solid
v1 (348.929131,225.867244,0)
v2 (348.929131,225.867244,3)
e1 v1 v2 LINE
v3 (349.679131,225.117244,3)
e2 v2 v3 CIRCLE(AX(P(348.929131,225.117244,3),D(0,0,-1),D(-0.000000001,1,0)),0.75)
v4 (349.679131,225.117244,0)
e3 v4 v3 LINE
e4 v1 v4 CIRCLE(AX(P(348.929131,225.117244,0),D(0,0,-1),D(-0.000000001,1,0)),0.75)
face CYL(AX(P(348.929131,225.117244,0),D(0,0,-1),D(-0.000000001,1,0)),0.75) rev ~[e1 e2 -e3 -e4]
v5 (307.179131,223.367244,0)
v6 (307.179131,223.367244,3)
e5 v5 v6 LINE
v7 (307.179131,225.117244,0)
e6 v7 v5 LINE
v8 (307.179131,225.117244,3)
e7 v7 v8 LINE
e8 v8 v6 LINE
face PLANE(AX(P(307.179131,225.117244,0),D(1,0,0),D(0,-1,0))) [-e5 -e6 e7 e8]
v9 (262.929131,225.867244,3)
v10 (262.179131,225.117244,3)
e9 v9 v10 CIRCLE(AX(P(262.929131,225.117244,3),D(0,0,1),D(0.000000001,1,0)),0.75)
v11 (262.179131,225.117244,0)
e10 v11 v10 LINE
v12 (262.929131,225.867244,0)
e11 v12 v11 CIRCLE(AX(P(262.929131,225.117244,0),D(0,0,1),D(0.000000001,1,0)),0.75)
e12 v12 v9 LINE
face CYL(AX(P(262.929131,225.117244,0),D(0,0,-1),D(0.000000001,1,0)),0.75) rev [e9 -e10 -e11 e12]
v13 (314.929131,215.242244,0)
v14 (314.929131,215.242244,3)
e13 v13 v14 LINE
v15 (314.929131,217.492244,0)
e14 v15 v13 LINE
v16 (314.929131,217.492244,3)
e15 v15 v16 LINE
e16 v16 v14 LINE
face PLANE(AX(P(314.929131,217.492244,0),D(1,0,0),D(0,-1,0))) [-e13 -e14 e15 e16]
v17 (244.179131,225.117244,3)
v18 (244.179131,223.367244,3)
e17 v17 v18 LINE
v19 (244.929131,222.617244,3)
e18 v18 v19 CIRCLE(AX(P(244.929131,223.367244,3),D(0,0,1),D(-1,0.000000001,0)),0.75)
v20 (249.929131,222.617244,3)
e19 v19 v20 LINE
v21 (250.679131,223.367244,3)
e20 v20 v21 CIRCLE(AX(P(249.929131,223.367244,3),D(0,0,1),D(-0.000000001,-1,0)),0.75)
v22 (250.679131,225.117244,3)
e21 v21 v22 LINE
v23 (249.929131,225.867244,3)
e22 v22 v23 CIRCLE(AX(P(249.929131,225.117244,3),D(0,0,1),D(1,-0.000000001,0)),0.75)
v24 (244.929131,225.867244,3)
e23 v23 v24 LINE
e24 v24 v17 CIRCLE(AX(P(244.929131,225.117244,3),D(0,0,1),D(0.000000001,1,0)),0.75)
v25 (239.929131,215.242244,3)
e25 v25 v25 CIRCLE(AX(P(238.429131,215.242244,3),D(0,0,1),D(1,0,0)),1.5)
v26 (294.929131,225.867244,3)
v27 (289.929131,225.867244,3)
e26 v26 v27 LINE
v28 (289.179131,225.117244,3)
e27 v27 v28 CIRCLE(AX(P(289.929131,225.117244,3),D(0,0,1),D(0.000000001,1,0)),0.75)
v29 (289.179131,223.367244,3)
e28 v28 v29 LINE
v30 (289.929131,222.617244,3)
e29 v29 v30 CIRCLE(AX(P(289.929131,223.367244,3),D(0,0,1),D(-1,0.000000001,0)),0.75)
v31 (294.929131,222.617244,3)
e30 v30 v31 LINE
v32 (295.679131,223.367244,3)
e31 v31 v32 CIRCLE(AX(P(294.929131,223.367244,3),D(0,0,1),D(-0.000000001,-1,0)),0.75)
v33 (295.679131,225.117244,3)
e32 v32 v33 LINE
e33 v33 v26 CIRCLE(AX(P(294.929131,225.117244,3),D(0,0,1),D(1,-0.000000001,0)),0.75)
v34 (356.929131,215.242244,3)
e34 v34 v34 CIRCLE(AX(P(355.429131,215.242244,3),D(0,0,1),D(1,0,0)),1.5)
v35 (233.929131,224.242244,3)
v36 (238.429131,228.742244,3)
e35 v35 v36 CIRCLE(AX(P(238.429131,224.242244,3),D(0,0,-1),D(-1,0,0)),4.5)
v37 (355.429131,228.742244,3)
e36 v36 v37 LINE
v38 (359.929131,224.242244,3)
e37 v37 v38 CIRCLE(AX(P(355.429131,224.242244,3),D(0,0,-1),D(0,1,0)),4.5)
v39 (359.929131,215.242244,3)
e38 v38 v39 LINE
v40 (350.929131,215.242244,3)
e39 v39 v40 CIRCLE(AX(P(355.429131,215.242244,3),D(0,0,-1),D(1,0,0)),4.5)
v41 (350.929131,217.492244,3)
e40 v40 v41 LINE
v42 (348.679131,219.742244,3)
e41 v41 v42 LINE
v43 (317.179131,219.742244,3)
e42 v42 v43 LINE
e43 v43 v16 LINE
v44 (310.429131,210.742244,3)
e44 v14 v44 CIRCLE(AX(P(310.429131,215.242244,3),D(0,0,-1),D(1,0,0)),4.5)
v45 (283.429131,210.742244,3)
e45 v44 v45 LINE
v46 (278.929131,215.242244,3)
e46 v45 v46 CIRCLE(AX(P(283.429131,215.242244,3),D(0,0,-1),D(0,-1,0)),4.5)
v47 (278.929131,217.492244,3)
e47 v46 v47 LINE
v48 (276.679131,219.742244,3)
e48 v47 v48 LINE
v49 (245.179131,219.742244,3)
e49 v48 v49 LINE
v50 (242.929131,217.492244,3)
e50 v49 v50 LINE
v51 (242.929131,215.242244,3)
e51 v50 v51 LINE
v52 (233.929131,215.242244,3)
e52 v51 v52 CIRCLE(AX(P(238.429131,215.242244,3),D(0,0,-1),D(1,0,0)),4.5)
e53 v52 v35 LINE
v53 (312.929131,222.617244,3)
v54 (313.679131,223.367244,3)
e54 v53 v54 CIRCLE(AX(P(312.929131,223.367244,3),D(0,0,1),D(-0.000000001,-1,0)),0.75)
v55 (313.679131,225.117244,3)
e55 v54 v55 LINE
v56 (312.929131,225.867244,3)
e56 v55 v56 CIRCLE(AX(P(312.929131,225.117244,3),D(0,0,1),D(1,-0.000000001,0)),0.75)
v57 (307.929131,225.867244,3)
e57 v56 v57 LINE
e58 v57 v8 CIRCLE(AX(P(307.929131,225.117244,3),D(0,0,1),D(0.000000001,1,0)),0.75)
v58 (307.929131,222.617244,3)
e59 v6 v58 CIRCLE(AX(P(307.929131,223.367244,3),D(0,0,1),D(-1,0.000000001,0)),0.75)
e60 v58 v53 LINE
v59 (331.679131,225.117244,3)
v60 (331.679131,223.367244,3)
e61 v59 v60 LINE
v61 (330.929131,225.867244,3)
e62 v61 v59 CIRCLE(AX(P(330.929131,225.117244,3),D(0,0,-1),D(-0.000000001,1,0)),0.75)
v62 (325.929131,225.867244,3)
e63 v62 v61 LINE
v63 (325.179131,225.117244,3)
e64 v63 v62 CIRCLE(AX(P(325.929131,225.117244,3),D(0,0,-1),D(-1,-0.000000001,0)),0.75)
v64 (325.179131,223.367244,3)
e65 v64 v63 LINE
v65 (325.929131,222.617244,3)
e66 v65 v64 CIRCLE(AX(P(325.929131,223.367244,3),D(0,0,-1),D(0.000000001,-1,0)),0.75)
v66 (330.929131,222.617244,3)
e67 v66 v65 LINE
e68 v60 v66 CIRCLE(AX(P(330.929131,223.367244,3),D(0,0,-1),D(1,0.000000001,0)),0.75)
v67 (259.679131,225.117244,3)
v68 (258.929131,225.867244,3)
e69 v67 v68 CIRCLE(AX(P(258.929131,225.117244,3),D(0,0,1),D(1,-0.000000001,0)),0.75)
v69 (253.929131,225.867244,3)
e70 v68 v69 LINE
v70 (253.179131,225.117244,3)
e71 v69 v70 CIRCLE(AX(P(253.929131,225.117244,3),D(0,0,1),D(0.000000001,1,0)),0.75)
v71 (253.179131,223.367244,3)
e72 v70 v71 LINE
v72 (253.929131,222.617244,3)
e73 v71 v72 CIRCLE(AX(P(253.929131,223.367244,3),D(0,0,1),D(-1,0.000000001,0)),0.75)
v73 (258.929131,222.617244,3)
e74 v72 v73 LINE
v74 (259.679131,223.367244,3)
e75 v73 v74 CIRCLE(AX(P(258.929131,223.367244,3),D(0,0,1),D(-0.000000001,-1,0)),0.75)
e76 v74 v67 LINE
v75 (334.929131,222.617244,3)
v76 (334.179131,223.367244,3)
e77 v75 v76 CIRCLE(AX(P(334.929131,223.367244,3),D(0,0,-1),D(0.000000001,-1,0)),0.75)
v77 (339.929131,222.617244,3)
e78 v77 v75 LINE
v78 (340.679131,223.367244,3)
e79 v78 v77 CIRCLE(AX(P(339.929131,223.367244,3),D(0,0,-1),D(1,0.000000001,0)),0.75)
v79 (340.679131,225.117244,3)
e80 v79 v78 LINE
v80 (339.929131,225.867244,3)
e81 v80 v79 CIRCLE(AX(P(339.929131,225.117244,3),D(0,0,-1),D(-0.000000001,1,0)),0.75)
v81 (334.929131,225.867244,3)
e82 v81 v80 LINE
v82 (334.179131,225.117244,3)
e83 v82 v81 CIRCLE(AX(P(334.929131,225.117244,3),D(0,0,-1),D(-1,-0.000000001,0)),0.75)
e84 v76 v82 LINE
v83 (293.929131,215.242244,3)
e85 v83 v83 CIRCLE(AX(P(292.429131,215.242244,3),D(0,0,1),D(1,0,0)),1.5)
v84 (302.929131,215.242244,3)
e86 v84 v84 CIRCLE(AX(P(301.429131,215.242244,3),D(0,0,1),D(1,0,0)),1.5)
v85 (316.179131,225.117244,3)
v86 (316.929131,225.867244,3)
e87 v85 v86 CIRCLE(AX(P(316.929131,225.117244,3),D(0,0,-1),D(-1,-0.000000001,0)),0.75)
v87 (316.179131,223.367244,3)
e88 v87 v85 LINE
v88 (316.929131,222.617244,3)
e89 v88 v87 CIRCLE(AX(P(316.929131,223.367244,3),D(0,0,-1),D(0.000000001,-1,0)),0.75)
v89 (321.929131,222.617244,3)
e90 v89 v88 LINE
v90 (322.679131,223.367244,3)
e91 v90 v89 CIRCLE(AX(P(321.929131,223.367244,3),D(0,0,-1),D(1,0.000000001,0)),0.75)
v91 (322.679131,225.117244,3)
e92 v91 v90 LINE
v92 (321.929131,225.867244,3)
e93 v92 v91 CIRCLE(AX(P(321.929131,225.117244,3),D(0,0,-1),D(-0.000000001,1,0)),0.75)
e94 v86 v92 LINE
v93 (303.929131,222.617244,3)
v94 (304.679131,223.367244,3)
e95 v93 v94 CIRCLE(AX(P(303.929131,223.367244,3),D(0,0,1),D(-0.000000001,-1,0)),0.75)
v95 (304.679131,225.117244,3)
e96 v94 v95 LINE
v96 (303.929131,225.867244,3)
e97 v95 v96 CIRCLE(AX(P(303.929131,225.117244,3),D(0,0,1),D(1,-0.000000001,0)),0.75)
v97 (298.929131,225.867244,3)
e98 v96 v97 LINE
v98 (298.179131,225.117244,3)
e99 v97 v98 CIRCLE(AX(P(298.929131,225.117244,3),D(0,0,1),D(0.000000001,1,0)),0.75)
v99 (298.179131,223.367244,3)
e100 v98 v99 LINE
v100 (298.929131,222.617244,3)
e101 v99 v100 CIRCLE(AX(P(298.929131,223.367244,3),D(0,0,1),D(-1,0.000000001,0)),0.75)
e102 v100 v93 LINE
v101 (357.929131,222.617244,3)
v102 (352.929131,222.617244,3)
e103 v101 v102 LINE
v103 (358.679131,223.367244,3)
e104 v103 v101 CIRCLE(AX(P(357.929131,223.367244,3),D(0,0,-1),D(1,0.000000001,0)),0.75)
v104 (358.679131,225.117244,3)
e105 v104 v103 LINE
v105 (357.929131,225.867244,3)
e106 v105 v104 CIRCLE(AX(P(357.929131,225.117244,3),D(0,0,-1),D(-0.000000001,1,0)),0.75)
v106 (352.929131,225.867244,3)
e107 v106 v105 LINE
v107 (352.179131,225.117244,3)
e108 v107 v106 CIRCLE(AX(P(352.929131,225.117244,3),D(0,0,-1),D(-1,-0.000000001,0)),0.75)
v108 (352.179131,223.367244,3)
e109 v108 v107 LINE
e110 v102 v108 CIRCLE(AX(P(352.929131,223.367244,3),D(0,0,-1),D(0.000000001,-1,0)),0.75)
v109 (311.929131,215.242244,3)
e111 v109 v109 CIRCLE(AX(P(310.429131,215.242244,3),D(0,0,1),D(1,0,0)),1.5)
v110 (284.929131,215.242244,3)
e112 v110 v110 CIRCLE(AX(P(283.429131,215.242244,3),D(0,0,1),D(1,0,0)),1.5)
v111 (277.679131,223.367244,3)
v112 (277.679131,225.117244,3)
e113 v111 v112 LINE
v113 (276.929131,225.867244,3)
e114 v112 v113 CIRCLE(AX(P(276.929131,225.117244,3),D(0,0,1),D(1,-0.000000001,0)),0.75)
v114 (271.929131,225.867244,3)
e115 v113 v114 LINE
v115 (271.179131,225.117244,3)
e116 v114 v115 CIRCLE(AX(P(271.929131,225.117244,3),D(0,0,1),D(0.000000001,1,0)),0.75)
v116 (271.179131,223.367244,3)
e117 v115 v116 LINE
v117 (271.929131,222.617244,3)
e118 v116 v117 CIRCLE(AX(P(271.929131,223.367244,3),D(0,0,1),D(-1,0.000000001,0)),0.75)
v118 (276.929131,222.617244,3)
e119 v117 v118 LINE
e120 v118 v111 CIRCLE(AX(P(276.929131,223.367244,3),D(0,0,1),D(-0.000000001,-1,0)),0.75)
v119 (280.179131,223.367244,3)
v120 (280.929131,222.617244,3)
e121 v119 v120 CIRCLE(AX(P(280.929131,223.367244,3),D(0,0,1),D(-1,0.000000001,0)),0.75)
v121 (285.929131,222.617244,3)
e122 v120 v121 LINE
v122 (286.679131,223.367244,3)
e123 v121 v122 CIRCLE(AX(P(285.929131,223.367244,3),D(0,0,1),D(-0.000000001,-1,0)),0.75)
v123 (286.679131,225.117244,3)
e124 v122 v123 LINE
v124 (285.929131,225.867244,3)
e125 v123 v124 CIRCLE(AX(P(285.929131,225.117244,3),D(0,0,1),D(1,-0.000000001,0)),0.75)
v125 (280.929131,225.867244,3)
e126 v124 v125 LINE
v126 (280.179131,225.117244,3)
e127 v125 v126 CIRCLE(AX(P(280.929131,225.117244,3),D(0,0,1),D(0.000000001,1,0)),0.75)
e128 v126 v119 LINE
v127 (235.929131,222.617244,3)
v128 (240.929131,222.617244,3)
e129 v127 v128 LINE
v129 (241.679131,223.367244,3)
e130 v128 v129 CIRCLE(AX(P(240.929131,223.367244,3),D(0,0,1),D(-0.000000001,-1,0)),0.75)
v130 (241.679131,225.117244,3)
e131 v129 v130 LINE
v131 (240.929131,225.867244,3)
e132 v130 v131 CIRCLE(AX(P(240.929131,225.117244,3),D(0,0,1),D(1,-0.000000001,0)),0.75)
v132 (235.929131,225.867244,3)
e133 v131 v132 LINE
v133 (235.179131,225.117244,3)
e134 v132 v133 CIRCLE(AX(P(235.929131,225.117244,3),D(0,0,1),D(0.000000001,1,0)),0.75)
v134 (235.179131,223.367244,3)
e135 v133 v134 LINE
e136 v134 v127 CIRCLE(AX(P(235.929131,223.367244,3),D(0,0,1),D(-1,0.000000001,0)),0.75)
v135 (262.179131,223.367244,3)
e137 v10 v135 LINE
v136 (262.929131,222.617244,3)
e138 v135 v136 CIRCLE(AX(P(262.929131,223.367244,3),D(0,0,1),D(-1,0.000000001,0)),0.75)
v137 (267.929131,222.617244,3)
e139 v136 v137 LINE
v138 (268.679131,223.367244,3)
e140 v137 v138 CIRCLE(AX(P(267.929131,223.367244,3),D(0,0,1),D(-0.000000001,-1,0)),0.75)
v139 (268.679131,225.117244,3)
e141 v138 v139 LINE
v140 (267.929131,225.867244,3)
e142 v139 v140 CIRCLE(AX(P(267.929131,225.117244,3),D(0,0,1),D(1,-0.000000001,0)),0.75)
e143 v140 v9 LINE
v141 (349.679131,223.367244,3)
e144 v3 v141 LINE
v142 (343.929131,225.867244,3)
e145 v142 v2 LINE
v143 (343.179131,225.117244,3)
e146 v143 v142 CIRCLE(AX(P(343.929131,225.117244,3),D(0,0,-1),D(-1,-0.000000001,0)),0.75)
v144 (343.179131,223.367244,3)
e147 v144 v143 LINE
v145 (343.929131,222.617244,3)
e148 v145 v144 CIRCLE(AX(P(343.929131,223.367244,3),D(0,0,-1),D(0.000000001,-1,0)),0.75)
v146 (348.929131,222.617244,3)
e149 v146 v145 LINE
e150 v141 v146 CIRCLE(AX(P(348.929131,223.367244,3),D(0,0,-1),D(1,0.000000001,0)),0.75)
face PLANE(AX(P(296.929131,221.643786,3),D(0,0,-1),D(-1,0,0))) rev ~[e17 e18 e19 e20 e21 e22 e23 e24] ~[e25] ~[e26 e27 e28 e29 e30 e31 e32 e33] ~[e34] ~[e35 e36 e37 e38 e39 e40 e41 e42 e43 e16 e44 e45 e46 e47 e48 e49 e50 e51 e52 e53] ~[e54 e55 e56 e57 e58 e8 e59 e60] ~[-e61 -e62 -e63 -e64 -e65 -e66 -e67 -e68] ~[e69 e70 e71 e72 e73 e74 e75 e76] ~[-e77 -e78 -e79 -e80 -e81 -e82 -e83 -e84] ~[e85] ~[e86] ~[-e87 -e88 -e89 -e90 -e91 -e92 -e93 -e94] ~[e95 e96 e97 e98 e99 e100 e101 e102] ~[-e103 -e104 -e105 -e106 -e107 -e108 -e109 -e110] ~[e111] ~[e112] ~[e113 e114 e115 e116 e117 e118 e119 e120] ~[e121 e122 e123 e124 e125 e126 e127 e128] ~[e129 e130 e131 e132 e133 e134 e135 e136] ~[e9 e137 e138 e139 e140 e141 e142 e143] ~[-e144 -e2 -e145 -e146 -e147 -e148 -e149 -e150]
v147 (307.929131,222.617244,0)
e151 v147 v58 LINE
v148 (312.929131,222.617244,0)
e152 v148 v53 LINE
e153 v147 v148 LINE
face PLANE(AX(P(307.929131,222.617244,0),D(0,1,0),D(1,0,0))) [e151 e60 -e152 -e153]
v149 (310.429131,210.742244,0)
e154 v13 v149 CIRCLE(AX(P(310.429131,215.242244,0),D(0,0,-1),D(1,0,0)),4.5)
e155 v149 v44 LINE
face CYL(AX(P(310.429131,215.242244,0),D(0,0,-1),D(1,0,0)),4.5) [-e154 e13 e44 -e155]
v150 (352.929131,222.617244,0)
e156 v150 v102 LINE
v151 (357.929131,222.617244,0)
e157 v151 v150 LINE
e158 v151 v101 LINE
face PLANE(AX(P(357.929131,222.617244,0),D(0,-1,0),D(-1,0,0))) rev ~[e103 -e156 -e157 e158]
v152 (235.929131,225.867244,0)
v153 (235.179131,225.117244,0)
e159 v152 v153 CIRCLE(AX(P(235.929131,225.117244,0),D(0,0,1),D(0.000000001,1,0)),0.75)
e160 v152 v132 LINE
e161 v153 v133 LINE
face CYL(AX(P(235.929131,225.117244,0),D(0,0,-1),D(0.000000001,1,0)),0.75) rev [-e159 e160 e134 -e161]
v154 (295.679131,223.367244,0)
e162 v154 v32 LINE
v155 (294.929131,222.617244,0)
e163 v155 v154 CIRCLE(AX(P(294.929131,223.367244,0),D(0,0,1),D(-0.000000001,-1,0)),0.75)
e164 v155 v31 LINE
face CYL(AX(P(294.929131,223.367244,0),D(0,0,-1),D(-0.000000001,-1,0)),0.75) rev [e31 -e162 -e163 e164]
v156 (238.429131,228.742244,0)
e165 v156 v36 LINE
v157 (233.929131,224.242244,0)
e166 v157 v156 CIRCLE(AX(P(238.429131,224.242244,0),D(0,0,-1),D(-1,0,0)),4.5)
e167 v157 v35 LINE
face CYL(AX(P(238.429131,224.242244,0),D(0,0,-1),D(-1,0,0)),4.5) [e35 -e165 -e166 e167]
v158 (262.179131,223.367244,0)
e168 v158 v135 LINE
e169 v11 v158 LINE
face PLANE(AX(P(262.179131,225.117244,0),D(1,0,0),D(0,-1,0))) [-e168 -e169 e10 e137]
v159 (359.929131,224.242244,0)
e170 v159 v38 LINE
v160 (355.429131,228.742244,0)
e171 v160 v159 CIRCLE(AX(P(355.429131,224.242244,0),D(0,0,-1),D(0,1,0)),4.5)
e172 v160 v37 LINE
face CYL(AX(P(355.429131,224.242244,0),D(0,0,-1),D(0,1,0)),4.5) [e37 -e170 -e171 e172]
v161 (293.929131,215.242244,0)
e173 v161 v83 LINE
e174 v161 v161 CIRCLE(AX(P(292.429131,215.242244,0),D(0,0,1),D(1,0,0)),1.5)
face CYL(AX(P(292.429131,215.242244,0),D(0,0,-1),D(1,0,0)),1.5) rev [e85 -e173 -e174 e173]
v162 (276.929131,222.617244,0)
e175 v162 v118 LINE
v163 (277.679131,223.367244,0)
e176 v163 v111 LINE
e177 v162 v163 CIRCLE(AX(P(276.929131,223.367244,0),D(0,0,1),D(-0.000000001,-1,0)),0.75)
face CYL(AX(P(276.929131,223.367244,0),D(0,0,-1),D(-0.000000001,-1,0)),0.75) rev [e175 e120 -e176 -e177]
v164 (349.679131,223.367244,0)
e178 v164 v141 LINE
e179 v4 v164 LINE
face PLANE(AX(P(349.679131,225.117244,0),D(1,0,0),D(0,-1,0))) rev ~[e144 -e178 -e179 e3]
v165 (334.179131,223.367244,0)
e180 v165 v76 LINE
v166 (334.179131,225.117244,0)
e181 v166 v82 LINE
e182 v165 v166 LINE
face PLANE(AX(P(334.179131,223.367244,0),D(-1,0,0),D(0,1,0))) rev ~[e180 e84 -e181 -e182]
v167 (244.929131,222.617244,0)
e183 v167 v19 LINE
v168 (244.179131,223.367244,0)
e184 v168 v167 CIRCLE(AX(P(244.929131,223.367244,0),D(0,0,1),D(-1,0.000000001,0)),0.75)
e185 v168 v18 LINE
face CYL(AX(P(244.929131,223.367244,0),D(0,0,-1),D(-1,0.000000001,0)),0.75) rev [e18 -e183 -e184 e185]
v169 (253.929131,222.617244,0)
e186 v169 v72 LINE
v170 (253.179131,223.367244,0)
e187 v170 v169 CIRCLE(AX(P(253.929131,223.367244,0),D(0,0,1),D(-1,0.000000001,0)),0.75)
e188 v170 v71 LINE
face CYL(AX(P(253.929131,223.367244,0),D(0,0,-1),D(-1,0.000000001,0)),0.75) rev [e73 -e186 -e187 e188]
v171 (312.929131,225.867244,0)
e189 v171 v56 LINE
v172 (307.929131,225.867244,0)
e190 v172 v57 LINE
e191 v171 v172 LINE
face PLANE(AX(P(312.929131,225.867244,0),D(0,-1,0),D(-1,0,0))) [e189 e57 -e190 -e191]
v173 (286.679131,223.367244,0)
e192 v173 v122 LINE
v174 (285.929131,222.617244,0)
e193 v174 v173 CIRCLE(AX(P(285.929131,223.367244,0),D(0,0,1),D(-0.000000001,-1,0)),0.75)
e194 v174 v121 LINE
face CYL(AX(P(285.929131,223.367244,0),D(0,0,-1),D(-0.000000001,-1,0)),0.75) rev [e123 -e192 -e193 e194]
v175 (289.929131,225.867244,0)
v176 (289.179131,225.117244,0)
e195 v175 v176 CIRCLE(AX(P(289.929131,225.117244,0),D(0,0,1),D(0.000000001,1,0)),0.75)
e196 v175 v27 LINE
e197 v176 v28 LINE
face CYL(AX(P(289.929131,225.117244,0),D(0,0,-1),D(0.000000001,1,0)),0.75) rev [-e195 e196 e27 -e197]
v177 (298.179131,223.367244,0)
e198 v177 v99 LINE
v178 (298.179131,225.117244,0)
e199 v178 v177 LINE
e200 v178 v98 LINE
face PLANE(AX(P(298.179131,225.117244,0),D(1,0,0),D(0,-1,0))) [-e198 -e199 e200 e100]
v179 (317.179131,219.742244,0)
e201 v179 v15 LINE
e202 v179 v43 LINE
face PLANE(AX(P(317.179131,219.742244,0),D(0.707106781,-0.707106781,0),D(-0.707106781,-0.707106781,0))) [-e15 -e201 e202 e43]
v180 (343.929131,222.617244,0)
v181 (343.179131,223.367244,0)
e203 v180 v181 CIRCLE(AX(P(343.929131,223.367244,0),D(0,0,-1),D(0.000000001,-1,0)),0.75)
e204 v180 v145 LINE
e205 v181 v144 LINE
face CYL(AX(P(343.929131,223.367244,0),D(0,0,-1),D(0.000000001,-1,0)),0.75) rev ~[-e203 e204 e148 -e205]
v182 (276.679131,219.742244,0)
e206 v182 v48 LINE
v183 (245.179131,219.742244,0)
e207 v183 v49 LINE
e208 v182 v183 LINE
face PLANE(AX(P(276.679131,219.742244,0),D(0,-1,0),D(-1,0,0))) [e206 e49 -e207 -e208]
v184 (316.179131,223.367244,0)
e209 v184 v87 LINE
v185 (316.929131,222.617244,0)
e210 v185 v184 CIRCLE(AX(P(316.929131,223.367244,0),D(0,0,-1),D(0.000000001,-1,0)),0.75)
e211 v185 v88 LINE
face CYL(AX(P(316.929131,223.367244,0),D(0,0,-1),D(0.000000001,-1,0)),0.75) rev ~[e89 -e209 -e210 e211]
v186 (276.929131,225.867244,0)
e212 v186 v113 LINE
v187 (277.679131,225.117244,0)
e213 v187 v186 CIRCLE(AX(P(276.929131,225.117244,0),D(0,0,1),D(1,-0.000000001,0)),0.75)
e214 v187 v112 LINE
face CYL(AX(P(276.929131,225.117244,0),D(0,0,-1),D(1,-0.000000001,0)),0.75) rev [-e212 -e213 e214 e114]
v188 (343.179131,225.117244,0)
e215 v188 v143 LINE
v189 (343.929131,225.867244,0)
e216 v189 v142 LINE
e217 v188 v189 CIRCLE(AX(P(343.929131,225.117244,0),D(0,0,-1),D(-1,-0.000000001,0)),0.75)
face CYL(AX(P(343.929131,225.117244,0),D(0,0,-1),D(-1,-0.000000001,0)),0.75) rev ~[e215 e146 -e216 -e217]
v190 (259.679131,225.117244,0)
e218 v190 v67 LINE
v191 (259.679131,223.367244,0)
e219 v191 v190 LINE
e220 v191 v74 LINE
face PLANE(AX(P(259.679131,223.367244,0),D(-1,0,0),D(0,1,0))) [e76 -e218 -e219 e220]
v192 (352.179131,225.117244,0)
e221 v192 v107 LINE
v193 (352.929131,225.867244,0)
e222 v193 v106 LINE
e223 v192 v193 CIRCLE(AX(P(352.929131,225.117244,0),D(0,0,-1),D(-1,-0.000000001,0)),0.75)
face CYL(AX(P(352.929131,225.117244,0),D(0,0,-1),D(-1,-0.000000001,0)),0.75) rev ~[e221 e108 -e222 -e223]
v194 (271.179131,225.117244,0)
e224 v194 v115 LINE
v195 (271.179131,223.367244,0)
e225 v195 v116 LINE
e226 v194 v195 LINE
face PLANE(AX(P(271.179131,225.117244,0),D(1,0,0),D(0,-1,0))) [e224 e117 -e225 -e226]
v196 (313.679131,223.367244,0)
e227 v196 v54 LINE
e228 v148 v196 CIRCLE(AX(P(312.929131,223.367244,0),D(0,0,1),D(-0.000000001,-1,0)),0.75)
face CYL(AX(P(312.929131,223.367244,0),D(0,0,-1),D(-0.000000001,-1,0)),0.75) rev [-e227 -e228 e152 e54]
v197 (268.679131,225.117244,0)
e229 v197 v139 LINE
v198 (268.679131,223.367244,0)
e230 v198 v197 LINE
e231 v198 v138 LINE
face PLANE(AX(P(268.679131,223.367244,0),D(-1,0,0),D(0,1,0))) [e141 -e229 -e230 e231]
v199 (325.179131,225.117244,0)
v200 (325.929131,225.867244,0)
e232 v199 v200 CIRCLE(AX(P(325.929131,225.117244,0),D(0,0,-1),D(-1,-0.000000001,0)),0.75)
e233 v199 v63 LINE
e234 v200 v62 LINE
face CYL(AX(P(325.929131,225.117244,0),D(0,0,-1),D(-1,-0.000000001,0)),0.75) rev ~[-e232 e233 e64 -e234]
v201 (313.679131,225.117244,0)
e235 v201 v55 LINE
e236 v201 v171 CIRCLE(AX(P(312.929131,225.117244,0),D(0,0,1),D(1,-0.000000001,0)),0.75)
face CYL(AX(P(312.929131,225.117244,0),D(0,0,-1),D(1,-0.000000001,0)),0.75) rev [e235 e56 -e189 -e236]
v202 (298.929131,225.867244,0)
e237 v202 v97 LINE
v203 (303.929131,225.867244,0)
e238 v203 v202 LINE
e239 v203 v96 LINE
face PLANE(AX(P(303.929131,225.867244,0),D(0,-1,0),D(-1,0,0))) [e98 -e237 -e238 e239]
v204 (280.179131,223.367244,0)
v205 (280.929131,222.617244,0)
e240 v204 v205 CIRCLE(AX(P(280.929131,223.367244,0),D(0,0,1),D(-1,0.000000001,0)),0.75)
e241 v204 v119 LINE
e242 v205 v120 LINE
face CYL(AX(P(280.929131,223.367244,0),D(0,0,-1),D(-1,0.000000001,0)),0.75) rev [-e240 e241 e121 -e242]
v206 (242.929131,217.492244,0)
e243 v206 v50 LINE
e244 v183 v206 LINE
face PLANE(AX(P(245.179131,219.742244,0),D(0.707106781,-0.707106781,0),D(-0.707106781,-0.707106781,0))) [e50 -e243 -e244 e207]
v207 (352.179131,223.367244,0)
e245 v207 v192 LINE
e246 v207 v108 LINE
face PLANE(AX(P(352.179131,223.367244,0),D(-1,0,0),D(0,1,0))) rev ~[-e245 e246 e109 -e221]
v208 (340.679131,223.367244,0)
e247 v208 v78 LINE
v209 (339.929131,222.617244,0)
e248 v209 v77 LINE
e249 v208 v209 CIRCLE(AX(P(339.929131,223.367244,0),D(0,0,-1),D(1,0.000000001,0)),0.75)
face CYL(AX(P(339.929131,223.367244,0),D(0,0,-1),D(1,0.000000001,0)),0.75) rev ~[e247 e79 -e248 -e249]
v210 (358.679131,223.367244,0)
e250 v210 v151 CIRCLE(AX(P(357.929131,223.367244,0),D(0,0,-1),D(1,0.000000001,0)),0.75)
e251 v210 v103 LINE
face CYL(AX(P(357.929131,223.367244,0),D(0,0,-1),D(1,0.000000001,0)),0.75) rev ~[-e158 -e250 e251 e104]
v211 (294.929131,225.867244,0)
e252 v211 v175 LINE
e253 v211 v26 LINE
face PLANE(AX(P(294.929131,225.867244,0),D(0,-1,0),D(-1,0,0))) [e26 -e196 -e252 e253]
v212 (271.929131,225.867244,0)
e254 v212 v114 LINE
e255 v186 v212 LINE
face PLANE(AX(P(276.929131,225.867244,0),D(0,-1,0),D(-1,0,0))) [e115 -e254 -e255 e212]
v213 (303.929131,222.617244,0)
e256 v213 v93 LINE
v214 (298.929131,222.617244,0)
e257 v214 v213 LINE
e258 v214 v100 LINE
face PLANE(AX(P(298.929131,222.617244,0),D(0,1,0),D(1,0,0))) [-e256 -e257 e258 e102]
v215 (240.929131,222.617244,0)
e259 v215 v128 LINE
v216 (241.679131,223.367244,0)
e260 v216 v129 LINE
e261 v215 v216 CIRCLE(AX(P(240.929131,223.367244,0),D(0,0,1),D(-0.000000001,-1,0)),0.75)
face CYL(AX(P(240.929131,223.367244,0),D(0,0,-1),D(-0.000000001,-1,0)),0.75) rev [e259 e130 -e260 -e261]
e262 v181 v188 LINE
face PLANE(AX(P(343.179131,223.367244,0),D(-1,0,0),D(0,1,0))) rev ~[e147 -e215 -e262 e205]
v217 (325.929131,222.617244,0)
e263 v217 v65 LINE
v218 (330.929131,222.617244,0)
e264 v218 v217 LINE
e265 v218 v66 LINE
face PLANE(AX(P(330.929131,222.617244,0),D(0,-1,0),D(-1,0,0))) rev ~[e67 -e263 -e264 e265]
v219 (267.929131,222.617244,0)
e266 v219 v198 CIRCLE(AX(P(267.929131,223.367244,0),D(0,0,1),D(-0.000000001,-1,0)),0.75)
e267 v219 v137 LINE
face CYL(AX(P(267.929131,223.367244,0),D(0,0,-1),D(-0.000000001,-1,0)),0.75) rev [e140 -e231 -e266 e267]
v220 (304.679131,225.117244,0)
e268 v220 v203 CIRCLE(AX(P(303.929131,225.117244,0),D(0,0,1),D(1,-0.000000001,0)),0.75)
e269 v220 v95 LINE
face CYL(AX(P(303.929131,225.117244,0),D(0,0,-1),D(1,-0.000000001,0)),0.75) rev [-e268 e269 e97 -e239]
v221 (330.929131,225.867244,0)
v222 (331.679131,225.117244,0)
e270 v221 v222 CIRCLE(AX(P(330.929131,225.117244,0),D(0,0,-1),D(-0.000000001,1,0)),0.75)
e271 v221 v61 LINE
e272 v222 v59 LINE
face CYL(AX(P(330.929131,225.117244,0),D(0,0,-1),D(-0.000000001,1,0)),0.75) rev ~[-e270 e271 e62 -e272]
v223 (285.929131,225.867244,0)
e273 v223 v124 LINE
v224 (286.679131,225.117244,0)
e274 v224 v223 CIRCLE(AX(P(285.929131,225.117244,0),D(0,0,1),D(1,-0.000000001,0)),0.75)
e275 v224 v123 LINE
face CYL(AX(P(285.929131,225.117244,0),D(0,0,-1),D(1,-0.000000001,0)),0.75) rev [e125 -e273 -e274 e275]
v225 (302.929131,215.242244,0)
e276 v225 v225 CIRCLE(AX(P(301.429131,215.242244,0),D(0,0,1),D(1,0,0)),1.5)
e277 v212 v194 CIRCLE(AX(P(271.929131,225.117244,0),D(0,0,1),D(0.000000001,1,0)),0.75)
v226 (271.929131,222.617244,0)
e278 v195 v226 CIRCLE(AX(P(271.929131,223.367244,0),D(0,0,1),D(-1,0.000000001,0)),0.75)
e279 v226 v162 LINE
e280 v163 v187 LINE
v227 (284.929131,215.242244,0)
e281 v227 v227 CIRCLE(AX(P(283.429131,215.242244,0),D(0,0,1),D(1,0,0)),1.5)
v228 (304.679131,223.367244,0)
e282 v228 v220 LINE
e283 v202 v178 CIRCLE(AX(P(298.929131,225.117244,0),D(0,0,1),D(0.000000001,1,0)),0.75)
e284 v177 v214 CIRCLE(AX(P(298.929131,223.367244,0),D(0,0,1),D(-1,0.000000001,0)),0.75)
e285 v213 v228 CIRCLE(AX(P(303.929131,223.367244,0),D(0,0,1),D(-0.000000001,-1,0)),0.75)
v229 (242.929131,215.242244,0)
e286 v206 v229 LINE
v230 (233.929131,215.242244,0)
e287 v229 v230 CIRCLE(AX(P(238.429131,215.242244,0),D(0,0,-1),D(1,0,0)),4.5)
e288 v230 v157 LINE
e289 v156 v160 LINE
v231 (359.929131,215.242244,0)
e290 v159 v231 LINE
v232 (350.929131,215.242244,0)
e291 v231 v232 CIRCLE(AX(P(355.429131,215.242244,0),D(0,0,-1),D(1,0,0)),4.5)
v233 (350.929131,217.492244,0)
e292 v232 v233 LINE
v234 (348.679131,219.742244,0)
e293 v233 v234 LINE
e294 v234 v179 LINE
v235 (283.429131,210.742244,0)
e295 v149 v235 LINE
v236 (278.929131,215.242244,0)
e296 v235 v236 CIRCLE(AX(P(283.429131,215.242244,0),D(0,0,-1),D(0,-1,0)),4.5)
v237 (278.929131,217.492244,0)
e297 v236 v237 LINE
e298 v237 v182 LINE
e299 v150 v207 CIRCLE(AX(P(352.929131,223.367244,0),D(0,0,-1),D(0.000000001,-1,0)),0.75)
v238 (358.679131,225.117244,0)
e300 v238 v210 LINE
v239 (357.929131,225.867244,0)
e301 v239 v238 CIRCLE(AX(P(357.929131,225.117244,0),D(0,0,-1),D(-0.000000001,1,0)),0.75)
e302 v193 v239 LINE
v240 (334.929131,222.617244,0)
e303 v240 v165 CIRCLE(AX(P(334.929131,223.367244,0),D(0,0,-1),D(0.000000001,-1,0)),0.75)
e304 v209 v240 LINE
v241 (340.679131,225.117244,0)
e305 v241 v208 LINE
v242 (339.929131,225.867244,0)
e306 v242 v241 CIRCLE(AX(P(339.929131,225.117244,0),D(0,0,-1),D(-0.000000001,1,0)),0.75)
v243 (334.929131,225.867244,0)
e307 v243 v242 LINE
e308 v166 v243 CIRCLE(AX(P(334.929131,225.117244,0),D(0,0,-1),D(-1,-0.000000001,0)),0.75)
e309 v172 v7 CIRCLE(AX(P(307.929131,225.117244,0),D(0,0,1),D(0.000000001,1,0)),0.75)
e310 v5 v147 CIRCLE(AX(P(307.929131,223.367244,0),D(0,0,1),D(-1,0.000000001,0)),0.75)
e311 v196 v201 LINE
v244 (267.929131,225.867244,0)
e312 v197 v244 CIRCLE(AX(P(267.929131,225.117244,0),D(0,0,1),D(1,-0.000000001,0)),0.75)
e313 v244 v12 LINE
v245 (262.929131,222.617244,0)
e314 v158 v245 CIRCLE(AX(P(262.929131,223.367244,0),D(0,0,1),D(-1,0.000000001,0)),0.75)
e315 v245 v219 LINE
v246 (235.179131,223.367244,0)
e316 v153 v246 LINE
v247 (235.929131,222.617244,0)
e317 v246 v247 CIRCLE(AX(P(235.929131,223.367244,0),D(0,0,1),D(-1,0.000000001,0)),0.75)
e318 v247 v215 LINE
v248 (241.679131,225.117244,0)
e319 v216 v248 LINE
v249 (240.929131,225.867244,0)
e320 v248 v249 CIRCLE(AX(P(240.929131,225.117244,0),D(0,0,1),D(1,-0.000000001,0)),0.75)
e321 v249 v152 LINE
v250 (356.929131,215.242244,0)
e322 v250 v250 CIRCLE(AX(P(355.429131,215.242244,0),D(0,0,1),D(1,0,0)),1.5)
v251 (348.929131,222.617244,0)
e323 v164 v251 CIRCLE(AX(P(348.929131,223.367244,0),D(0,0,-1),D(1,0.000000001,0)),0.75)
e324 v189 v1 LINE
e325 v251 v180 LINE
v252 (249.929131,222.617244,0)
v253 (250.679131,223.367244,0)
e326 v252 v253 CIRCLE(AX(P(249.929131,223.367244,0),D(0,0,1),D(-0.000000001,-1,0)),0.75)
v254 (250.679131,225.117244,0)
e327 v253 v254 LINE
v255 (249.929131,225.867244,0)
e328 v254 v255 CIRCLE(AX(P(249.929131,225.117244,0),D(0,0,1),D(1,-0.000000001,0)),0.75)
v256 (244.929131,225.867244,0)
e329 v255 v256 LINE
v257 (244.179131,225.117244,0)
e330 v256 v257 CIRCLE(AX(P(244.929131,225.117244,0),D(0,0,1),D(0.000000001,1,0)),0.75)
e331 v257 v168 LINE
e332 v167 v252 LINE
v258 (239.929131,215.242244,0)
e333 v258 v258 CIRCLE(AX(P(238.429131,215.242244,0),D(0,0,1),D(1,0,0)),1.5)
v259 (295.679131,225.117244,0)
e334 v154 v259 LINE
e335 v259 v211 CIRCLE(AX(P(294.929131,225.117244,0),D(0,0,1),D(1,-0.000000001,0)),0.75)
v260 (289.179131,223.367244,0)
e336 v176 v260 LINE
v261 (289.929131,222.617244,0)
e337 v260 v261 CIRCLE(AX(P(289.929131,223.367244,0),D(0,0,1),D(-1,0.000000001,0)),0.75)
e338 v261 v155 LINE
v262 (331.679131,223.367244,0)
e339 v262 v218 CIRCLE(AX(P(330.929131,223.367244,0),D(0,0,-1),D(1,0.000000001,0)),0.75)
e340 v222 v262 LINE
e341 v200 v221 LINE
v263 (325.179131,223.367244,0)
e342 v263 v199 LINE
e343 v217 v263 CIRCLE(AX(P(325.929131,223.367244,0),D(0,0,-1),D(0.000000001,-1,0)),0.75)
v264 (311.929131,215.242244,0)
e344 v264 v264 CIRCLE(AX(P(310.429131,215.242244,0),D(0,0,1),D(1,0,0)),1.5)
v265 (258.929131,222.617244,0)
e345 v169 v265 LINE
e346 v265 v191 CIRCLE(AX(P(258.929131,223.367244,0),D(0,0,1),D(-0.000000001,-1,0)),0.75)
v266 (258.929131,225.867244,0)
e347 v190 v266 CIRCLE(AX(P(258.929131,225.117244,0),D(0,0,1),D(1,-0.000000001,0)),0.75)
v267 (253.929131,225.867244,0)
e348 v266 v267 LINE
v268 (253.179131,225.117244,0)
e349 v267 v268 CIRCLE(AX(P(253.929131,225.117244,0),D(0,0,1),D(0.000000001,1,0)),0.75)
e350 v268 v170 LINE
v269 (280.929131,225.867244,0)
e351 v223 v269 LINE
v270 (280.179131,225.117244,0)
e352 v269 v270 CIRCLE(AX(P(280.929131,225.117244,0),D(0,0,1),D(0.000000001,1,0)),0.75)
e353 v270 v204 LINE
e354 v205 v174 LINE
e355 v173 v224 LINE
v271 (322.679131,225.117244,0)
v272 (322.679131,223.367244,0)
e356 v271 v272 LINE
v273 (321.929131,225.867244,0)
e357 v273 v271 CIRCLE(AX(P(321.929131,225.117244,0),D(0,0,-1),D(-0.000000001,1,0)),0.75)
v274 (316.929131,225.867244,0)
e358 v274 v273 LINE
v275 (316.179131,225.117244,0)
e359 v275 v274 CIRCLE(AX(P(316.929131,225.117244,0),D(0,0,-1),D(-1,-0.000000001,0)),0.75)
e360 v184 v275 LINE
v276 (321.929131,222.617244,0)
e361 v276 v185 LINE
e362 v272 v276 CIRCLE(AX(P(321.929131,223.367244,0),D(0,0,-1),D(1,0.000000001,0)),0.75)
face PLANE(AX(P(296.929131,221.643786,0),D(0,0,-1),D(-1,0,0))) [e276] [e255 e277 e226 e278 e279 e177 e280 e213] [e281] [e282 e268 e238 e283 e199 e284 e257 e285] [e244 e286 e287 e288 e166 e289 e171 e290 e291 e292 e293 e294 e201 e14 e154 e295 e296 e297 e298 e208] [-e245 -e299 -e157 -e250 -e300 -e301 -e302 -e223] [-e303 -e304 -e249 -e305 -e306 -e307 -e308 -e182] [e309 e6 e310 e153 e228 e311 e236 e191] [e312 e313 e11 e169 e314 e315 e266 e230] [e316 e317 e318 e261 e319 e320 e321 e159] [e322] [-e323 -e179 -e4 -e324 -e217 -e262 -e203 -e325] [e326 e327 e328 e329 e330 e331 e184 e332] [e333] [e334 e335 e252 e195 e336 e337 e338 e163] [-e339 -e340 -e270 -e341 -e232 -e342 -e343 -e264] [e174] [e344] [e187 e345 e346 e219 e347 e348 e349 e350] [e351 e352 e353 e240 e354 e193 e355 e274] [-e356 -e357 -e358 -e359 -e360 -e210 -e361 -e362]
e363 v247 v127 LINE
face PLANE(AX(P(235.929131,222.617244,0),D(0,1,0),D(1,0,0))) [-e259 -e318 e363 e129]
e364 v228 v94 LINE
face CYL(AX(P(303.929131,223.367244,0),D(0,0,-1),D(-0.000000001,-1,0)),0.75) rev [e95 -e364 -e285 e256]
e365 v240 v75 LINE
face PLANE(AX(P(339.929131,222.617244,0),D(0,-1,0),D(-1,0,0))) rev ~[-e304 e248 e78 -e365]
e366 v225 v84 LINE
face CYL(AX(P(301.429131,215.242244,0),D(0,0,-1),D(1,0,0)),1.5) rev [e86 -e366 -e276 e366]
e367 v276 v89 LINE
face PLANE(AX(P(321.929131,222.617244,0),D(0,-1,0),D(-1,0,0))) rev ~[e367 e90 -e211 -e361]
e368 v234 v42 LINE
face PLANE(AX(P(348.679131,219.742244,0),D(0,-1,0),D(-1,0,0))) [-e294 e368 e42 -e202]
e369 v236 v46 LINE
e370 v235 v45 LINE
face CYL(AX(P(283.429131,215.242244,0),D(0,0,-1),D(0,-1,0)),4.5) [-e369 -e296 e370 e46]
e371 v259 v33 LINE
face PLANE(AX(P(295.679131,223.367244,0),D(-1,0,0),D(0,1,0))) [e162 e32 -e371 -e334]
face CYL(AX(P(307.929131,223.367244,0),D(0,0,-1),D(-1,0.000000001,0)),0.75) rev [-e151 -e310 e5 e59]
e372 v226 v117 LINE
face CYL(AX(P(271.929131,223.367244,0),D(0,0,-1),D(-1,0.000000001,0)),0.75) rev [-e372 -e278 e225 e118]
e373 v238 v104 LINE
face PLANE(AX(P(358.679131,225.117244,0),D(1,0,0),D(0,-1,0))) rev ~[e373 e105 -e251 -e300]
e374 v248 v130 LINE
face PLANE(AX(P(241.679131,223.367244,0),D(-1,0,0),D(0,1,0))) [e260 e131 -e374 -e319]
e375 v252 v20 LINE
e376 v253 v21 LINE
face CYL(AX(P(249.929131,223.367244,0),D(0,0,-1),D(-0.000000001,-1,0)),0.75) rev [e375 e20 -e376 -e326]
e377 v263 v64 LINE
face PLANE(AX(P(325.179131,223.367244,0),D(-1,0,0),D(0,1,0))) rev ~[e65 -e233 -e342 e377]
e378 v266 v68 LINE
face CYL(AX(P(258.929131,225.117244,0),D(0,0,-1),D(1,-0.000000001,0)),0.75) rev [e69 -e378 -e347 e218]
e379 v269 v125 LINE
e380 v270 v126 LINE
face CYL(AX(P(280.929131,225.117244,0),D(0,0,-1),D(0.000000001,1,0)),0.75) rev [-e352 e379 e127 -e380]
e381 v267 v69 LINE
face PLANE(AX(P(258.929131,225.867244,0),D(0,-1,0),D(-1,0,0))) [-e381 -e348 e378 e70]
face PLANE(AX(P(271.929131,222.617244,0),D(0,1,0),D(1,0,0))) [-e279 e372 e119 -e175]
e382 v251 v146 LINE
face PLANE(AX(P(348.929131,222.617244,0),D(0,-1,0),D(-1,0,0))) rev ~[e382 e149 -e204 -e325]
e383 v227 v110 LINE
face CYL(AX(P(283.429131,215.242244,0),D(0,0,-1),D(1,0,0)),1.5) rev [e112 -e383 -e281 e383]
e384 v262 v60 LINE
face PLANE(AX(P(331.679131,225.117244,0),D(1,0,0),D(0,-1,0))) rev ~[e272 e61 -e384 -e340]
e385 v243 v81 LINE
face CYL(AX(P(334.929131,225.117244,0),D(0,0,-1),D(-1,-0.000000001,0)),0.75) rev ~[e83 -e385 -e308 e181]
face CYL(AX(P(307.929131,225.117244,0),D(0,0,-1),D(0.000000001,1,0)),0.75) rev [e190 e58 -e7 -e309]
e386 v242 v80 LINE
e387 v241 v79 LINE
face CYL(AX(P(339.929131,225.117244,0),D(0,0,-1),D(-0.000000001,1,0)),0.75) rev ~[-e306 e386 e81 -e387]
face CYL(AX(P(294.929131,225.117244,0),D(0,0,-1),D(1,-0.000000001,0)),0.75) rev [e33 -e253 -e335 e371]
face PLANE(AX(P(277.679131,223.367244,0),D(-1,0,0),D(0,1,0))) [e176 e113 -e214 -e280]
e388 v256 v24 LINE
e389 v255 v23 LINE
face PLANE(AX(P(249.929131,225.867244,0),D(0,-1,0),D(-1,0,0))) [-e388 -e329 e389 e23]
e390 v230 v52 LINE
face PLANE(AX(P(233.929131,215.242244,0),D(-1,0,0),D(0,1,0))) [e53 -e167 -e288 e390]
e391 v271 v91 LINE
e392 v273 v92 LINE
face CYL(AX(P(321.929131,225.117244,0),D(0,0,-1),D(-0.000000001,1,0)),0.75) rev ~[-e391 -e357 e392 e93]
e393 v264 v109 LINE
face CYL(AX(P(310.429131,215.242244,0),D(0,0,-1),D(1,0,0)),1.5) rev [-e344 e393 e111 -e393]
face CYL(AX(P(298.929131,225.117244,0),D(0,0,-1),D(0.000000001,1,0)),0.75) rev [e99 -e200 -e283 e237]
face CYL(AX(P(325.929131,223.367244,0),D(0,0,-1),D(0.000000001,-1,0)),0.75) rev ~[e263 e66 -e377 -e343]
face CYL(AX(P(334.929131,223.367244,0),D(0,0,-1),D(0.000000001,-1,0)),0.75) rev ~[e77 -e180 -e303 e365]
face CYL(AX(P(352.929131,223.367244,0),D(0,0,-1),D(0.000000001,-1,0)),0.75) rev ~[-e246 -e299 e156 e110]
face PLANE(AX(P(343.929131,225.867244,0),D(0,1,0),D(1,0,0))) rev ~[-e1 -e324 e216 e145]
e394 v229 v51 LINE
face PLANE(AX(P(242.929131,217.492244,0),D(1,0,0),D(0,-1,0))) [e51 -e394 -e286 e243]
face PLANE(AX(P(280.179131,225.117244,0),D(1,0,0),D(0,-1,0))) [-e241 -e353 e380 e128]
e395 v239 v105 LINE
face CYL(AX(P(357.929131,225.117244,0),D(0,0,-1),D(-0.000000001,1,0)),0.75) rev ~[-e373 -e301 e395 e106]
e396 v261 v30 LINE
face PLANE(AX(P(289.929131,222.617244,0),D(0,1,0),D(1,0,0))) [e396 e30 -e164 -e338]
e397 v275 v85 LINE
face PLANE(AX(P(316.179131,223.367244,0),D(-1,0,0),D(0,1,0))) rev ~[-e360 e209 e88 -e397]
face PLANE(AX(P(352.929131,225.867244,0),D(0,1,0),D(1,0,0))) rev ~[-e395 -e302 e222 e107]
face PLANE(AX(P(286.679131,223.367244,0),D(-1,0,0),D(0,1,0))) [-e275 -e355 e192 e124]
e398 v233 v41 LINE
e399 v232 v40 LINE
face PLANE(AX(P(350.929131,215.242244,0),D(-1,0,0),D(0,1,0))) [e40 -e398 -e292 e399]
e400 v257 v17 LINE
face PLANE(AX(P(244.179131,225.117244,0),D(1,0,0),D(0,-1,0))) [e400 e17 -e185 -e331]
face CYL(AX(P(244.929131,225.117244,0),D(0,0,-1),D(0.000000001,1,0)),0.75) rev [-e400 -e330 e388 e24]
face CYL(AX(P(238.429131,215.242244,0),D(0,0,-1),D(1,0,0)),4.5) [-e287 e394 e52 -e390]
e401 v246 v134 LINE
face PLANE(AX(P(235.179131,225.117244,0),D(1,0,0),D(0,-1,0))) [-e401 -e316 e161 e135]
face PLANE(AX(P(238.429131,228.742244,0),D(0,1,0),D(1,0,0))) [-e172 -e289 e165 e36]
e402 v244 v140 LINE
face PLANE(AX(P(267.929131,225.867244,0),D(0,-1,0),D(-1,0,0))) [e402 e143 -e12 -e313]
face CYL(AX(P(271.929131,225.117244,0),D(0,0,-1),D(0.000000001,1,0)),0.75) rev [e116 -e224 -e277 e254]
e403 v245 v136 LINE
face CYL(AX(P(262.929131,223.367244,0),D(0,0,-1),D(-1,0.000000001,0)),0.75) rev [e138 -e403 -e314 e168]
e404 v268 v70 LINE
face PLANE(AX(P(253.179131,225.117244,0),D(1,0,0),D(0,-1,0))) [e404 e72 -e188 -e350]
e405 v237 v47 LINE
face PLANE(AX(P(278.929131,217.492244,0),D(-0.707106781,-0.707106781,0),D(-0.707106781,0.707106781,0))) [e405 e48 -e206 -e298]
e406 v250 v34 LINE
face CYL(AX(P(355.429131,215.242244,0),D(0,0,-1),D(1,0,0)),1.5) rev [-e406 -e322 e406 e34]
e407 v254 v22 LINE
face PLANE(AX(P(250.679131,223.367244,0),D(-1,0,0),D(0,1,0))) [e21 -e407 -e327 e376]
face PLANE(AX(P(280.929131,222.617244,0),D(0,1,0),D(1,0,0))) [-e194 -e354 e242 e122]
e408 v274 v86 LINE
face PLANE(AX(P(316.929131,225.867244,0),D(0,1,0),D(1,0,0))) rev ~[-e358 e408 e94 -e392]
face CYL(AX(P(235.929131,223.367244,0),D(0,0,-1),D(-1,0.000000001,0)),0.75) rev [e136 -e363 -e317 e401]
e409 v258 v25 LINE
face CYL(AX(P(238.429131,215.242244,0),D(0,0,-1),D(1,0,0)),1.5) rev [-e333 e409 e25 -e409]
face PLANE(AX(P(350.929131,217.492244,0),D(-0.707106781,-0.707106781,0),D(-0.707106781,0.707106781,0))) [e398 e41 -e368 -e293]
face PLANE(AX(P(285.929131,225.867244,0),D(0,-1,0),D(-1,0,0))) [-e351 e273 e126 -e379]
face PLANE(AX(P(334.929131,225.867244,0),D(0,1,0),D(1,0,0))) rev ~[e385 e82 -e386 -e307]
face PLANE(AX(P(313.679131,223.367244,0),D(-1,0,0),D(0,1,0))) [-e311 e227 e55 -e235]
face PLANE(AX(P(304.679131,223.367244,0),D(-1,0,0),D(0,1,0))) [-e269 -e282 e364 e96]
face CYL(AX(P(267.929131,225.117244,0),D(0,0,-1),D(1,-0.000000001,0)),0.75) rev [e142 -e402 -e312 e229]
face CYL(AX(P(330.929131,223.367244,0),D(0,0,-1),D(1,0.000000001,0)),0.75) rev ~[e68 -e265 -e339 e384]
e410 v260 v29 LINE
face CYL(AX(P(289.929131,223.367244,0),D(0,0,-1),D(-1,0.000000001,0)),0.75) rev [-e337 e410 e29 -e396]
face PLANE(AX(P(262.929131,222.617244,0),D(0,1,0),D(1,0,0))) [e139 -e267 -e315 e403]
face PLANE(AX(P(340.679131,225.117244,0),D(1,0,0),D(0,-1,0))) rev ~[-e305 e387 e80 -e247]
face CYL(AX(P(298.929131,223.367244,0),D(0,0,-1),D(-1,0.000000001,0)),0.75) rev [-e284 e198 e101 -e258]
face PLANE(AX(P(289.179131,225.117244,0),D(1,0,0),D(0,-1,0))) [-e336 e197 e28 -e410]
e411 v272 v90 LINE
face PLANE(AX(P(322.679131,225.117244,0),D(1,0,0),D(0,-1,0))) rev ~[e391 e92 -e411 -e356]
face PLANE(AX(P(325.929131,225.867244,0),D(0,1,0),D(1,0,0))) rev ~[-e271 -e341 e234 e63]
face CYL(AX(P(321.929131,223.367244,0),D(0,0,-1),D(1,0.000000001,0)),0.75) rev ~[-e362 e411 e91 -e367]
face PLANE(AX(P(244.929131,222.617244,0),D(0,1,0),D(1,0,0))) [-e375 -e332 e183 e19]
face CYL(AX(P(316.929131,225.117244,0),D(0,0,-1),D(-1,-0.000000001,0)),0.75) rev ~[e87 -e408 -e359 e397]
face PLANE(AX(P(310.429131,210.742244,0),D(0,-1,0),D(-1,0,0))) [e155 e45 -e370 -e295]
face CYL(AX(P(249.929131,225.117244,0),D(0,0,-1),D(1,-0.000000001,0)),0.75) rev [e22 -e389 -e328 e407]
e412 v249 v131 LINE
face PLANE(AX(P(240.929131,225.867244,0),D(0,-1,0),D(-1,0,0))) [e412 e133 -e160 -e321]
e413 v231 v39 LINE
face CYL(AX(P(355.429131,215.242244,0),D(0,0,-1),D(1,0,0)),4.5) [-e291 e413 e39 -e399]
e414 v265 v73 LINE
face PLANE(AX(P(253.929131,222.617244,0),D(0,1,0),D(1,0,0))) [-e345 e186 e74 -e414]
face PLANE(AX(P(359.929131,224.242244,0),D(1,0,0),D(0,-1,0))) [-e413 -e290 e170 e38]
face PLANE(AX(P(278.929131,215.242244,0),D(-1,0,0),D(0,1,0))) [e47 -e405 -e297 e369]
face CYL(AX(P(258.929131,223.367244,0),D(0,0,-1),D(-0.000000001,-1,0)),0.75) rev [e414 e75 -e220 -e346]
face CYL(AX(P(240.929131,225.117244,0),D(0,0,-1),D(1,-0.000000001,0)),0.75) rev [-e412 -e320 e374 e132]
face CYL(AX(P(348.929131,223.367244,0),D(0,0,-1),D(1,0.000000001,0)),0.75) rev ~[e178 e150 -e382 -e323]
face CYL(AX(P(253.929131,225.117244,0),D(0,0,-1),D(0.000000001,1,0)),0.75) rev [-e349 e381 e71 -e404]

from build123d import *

# Parameters (mm, degrees)
MODEL_R                 = 1.5
SALIENTE_EXTRUIR1_DEPTH = 3


with BuildPart() as part:
    # Model → Saliente-Extruir1 (new body)
    with BuildSketch(Plane.XY):
        with BuildLine():
            Line((238.429131311, 228.742243614), (355.429131311, 228.742243614))
            ThreePointArc((355.429131311, 228.742243614), (358.611111826, 227.424224129), (359.929131311, 224.242243614))
            Line((359.929131311, 224.242243614), (359.929131311, 215.242243614))
            ThreePointArc((359.929131311, 215.242243614), (355.429131311, 210.742243614), (350.929131311, 215.242243614))
            Line((350.929131311, 215.242243614), (350.929131311, 217.492243614))
            Line((350.929131311, 217.492243614), (348.679131311, 219.742243614))
            Line((348.679131311, 219.742243614), (317.179131311, 219.742243614))
            Line((317.179131311, 219.742243614), (314.929131311, 217.492243614))
            Line((314.929131311, 217.492243614), (314.929131311, 215.242243614))
            ThreePointArc((314.929131311, 215.242243614), (313.611111826, 212.060263099), (310.429131311, 210.742243614))
            Line((310.429131311, 210.742243614), (283.429131311, 210.742243614))
            ThreePointArc((283.429131311, 210.742243614), (280.247150795, 212.060263099), (278.929131311, 215.242243614))
            Line((278.929131311, 215.242243614), (278.929131311, 217.492243614))
            Line((278.929131311, 217.492243614), (276.679131311, 219.742243614))
            Line((276.679131311, 219.742243614), (245.179131311, 219.742243614))
            Line((245.179131311, 219.742243614), (242.929131311, 217.492243614))
            Line((242.929131311, 217.492243614), (242.929131311, 215.242243614))
            ThreePointArc((242.929131311, 215.242243614), (238.429131311, 210.742243614), (233.929131311, 215.242243614))
            Line((233.929131311, 215.242243614), (233.929131311, 224.242243614))
            ThreePointArc((233.929131311, 224.242243614), (235.247150795, 227.424224129), (238.429131311, 228.742243614))
        make_face()
        with Locations((283.429131311, 215.242243614)):
            Circle(MODEL_R, mode=Mode.SUBTRACT)
        with Locations((355.429131311, 215.242243614)):
            Circle(MODEL_R, mode=Mode.SUBTRACT)
        with Locations((238.429131311, 215.242243614)):
            Circle(MODEL_R, mode=Mode.SUBTRACT)
        with Locations((310.429131311, 215.242243614)):
            Circle(MODEL_R, mode=Mode.SUBTRACT)
        with Locations((292.429131311, 215.242243614)):
            Circle(MODEL_R, mode=Mode.SUBTRACT)
        with Locations((301.429131311, 215.242243614)):
            Circle(MODEL_R, mode=Mode.SUBTRACT)
        with BuildLine():
            Line((321.929131311, 222.617243614), (316.929131311, 222.617243614))
            ThreePointArc((316.929131311, 222.617243614), (316.398801225, 222.836913528), (316.179131311, 223.367243614))
            Line((316.179131311, 223.367243614), (316.179131311, 225.117243614))
            ThreePointArc((316.179131311, 225.117243614), (316.398801225, 225.6475737), (316.929131311, 225.867243614))
            Line((316.929131311, 225.867243614), (321.929131311, 225.867243614))
            ThreePointArc((321.929131311, 225.867243614), (322.459461397, 225.6475737), (322.679131311, 225.117243614))
            Line((322.679131311, 225.117243614), (322.679131311, 223.367243614))
            ThreePointArc((322.679131311, 223.367243614), (322.459461397, 222.836913528), (321.929131311, 222.617243614))
        make_face(mode=Mode.SUBTRACT)
        with BuildLine():
            Line((357.929131311, 222.617243614), (352.929131311, 222.617243614))
            ThreePointArc((352.929131311, 222.617243614), (352.398801225, 222.836913528), (352.179131311, 223.367243614))
            Line((352.179131311, 223.367243614), (352.179131311, 225.117243614))
            ThreePointArc((352.179131311, 225.117243614), (352.398801225, 225.6475737), (352.929131311, 225.867243614))
            Line((352.929131311, 225.867243614), (357.929131311, 225.867243614))
            ThreePointArc((357.929131311, 225.867243614), (358.459461397, 225.6475737), (358.679131311, 225.117243614))
            Line((358.679131311, 225.117243614), (358.679131311, 223.367243614))
            ThreePointArc((358.679131311, 223.367243614), (358.459461397, 222.836913528), (357.929131311, 222.617243614))
        make_face(mode=Mode.SUBTRACT)
        with BuildLine():
            Line((348.929131311, 222.617243614), (343.929131311, 222.617243614))
            ThreePointArc((343.929131311, 222.617243614), (343.398801225, 222.836913528), (343.179131311, 223.367243614))
            Line((343.179131311, 223.367243614), (343.179131311, 225.117243614))
            ThreePointArc((343.179131311, 225.117243614), (343.398801225, 225.6475737), (343.929131311, 225.867243614))
            Line((343.929131311, 225.867243614), (348.929131311, 225.867243614))
            ThreePointArc((348.929131311, 225.867243614), (349.459461397, 225.6475737), (349.679131311, 225.117243614))
            Line((349.679131311, 225.117243614), (349.679131311, 223.367243614))
            ThreePointArc((349.679131311, 223.367243614), (349.459461397, 222.836913528), (348.929131311, 222.617243614))
        make_face(mode=Mode.SUBTRACT)
        with BuildLine():
            Line((339.929131311, 222.617243614), (334.929131311, 222.617243614))
            ThreePointArc((334.929131311, 222.617243614), (334.398801225, 222.836913528), (334.179131311, 223.367243614))
            Line((334.179131311, 223.367243614), (334.179131311, 225.117243614))
            ThreePointArc((334.179131311, 225.117243614), (334.398801225, 225.6475737), (334.929131311, 225.867243614))
            Line((334.929131311, 225.867243614), (339.929131311, 225.867243614))
            ThreePointArc((339.929131311, 225.867243614), (340.459461397, 225.6475737), (340.679131311, 225.117243614))
            Line((340.679131311, 225.117243614), (340.679131311, 223.367243614))
            ThreePointArc((340.679131311, 223.367243614), (340.459461397, 222.836913528), (339.929131311, 222.617243614))
        make_face(mode=Mode.SUBTRACT)
        with BuildLine():
            Line((330.929131311, 222.617243614), (325.929131311, 222.617243614))
            ThreePointArc((325.929131311, 222.617243614), (325.398801225, 222.836913528), (325.179131311, 223.367243614))
            Line((325.179131311, 223.367243614), (325.179131311, 225.117243614))
            ThreePointArc((325.179131311, 225.117243614), (325.398801225, 225.6475737), (325.929131311, 225.867243614))
            Line((325.929131311, 225.867243614), (330.929131311, 225.867243614))
            ThreePointArc((330.929131311, 225.867243614), (331.459461397, 225.6475737), (331.679131311, 225.117243614))
            Line((331.679131311, 225.117243614), (331.679131311, 223.367243614))
            ThreePointArc((331.679131311, 223.367243614), (331.459461397, 222.836913528), (330.929131311, 222.617243614))
        make_face(mode=Mode.SUBTRACT)
        with BuildLine():
            Line((271.929131311, 222.617243614), (276.929131311, 222.617243614))
            ThreePointArc((276.929131311, 222.617243614), (277.459461397, 222.836913528), (277.679131311, 223.367243614))
            Line((277.679131311, 223.367243614), (277.679131311, 225.117243614))
            ThreePointArc((277.679131311, 225.117243614), (277.459461397, 225.6475737), (276.929131311, 225.867243614))
            Line((276.929131311, 225.867243614), (271.929131311, 225.867243614))
            ThreePointArc((271.929131311, 225.867243614), (271.398801225, 225.6475737), (271.179131311, 225.117243614))
            Line((271.179131311, 225.117243614), (271.179131311, 223.367243614))
            ThreePointArc((271.179131311, 223.367243614), (271.398801225, 222.836913528), (271.929131311, 222.617243614))
        make_face(mode=Mode.SUBTRACT)
        with BuildLine():
            Line((235.929131311, 222.617243614), (240.929131311, 222.617243614))
            ThreePointArc((240.929131311, 222.617243614), (241.459461397, 222.836913528), (241.679131311, 223.367243614))
            Line((241.679131311, 223.367243614), (241.679131311, 225.117243614))
            ThreePointArc((241.679131311, 225.117243614), (241.459461397, 225.6475737), (240.929131311, 225.867243614))
            Line((240.929131311, 225.867243614), (235.929131311, 225.867243614))
            ThreePointArc((235.929131311, 225.867243614), (235.398801225, 225.6475737), (235.179131311, 225.117243614))
            Line((235.179131311, 225.117243614), (235.179131311, 223.367243614))
            ThreePointArc((235.179131311, 223.367243614), (235.398801225, 222.836913528), (235.929131311, 222.617243614))
        make_face(mode=Mode.SUBTRACT)
        with BuildLine():
            Line((244.929131311, 222.617243614), (249.929131311, 222.617243614))
            ThreePointArc((249.929131311, 222.617243614), (250.459461397, 222.836913528), (250.679131311, 223.367243614))
            Line((250.679131311, 223.367243614), (250.679131311, 225.117243614))
            ThreePointArc((250.679131311, 225.117243614), (250.459461397, 225.6475737), (249.929131311, 225.867243614))
            Line((249.929131311, 225.867243614), (244.929131311, 225.867243614))
            ThreePointArc((244.929131311, 225.867243614), (244.398801225, 225.6475737), (244.179131311, 225.117243614))
            Line((244.179131311, 225.117243614), (244.179131311, 223.367243614))
            ThreePointArc((244.179131311, 223.367243614), (244.398801225, 222.836913528), (244.929131311, 222.617243614))
        make_face(mode=Mode.SUBTRACT)
        with BuildLine():
            Line((253.929131311, 222.617243614), (258.929131311, 222.617243614))
            ThreePointArc((258.929131311, 222.617243614), (259.459461397, 222.836913528), (259.679131311, 223.367243614))
            Line((259.679131311, 223.367243614), (259.679131311, 225.117243614))
            ThreePointArc((259.679131311, 225.117243614), (259.459461397, 225.6475737), (258.929131311, 225.867243614))
            Line((258.929131311, 225.867243614), (253.929131311, 225.867243614))
            ThreePointArc((253.929131311, 225.867243614), (253.398801225, 225.6475737), (253.179131311, 225.117243614))
            Line((253.179131311, 225.117243614), (253.179131311, 223.367243614))
            ThreePointArc((253.179131311, 223.367243614), (253.398801225, 222.836913528), (253.929131311, 222.617243614))
        make_face(mode=Mode.SUBTRACT)
        with BuildLine():
            Line((262.929131311, 222.617243614), (267.929131311, 222.617243614))
            ThreePointArc((267.929131311, 222.617243614), (268.459461397, 222.836913528), (268.679131311, 223.367243614))
            Line((268.679131311, 223.367243614), (268.679131311, 225.117243614))
            ThreePointArc((268.679131311, 225.117243614), (268.459461397, 225.6475737), (267.929131311, 225.867243614))
            Line((267.929131311, 225.867243614), (262.929131311, 225.867243614))
            ThreePointArc((262.929131311, 225.867243614), (262.398801225, 225.6475737), (262.179131311, 225.117243614))
            Line((262.179131311, 225.117243614), (262.179131311, 223.367243614))
            ThreePointArc((262.179131311, 223.367243614), (262.398801225, 222.836913528), (262.929131311, 222.617243614))
        make_face(mode=Mode.SUBTRACT)
        with BuildLine():
            Line((307.929131311, 222.617243614), (312.929131311, 222.617243614))
            ThreePointArc((312.929131311, 222.617243614), (313.459461397, 222.836913528), (313.679131311, 223.367243614))
            Line((313.679131311, 223.367243614), (313.679131311, 225.117243614))
            ThreePointArc((313.679131311, 225.117243614), (313.459461397, 225.6475737), (312.929131311, 225.867243614))
            Line((312.929131311, 225.867243614), (307.929131311, 225.867243614))
            ThreePointArc((307.929131311, 225.867243614), (307.398801225, 225.6475737), (307.179131311, 225.117243614))
            Line((307.179131311, 225.117243614), (307.179131311, 223.367243614))
            ThreePointArc((307.179131311, 223.367243614), (307.398801225, 222.836913528), (307.929131311, 222.617243614))
        make_face(mode=Mode.SUBTRACT)
        with BuildLine():
            Line((280.929131311, 222.617243614), (285.929131311, 222.617243614))
            ThreePointArc((285.929131311, 222.617243614), (286.459461397, 222.836913528), (286.679131311, 223.367243614))
            Line((286.679131311, 223.367243614), (286.679131311, 225.117243614))
            ThreePointArc((286.679131311, 225.117243614), (286.459461397, 225.6475737), (285.929131311, 225.867243614))
            Line((285.929131311, 225.867243614), (280.929131311, 225.867243614))
            ThreePointArc((280.929131311, 225.867243614), (280.398801225, 225.6475737), (280.179131311, 225.117243614))
            Line((280.179131311, 225.117243614), (280.179131311, 223.367243614))
            ThreePointArc((280.179131311, 223.367243614), (280.398801225, 222.836913528), (280.929131311, 222.617243614))
        make_face(mode=Mode.SUBTRACT)
        with BuildLine():
            Line((289.929131311, 222.617243614), (294.929131311, 222.617243614))
            ThreePointArc((294.929131311, 222.617243614), (295.459461397, 222.836913528), (295.679131311, 223.367243614))
            Line((295.679131311, 223.367243614), (295.679131311, 225.117243614))
            ThreePointArc((295.679131311, 225.117243614), (295.459461397, 225.6475737), (294.929131311, 225.867243614))
            Line((294.929131311, 225.867243614), (289.929131311, 225.867243614))
            ThreePointArc((289.929131311, 225.867243614), (289.398801225, 225.6475737), (289.179131311, 225.117243614))
            Line((289.179131311, 225.117243614), (289.179131311, 223.367243614))
            ThreePointArc((289.179131311, 223.367243614), (289.398801225, 222.836913528), (289.929131311, 222.617243614))
        make_face(mode=Mode.SUBTRACT)
        with BuildLine():
            Line((298.929131311, 222.617243614), (303.929131311, 222.617243614))
            ThreePointArc((303.929131311, 222.617243614), (304.459461397, 222.836913528), (304.679131311, 223.367243614))
            Line((304.679131311, 223.367243614), (304.679131311, 225.117243614))
            ThreePointArc((304.679131311, 225.117243614), (304.459461397, 225.6475737), (303.929131311, 225.867243614))
            Line((303.929131311, 225.867243614), (298.929131311, 225.867243614))
            ThreePointArc((298.929131311, 225.867243614), (298.398801225, 225.6475737), (298.179131311, 225.117243614))
            Line((298.179131311, 225.117243614), (298.179131311, 223.367243614))
            ThreePointArc((298.179131311, 223.367243614), (298.398801225, 222.836913528), (298.929131311, 222.617243614))
        make_face(mode=Mode.SUBTRACT)
    extrude(amount=SALIENTE_EXTRUIR1_DEPTH)


solid = part.part
